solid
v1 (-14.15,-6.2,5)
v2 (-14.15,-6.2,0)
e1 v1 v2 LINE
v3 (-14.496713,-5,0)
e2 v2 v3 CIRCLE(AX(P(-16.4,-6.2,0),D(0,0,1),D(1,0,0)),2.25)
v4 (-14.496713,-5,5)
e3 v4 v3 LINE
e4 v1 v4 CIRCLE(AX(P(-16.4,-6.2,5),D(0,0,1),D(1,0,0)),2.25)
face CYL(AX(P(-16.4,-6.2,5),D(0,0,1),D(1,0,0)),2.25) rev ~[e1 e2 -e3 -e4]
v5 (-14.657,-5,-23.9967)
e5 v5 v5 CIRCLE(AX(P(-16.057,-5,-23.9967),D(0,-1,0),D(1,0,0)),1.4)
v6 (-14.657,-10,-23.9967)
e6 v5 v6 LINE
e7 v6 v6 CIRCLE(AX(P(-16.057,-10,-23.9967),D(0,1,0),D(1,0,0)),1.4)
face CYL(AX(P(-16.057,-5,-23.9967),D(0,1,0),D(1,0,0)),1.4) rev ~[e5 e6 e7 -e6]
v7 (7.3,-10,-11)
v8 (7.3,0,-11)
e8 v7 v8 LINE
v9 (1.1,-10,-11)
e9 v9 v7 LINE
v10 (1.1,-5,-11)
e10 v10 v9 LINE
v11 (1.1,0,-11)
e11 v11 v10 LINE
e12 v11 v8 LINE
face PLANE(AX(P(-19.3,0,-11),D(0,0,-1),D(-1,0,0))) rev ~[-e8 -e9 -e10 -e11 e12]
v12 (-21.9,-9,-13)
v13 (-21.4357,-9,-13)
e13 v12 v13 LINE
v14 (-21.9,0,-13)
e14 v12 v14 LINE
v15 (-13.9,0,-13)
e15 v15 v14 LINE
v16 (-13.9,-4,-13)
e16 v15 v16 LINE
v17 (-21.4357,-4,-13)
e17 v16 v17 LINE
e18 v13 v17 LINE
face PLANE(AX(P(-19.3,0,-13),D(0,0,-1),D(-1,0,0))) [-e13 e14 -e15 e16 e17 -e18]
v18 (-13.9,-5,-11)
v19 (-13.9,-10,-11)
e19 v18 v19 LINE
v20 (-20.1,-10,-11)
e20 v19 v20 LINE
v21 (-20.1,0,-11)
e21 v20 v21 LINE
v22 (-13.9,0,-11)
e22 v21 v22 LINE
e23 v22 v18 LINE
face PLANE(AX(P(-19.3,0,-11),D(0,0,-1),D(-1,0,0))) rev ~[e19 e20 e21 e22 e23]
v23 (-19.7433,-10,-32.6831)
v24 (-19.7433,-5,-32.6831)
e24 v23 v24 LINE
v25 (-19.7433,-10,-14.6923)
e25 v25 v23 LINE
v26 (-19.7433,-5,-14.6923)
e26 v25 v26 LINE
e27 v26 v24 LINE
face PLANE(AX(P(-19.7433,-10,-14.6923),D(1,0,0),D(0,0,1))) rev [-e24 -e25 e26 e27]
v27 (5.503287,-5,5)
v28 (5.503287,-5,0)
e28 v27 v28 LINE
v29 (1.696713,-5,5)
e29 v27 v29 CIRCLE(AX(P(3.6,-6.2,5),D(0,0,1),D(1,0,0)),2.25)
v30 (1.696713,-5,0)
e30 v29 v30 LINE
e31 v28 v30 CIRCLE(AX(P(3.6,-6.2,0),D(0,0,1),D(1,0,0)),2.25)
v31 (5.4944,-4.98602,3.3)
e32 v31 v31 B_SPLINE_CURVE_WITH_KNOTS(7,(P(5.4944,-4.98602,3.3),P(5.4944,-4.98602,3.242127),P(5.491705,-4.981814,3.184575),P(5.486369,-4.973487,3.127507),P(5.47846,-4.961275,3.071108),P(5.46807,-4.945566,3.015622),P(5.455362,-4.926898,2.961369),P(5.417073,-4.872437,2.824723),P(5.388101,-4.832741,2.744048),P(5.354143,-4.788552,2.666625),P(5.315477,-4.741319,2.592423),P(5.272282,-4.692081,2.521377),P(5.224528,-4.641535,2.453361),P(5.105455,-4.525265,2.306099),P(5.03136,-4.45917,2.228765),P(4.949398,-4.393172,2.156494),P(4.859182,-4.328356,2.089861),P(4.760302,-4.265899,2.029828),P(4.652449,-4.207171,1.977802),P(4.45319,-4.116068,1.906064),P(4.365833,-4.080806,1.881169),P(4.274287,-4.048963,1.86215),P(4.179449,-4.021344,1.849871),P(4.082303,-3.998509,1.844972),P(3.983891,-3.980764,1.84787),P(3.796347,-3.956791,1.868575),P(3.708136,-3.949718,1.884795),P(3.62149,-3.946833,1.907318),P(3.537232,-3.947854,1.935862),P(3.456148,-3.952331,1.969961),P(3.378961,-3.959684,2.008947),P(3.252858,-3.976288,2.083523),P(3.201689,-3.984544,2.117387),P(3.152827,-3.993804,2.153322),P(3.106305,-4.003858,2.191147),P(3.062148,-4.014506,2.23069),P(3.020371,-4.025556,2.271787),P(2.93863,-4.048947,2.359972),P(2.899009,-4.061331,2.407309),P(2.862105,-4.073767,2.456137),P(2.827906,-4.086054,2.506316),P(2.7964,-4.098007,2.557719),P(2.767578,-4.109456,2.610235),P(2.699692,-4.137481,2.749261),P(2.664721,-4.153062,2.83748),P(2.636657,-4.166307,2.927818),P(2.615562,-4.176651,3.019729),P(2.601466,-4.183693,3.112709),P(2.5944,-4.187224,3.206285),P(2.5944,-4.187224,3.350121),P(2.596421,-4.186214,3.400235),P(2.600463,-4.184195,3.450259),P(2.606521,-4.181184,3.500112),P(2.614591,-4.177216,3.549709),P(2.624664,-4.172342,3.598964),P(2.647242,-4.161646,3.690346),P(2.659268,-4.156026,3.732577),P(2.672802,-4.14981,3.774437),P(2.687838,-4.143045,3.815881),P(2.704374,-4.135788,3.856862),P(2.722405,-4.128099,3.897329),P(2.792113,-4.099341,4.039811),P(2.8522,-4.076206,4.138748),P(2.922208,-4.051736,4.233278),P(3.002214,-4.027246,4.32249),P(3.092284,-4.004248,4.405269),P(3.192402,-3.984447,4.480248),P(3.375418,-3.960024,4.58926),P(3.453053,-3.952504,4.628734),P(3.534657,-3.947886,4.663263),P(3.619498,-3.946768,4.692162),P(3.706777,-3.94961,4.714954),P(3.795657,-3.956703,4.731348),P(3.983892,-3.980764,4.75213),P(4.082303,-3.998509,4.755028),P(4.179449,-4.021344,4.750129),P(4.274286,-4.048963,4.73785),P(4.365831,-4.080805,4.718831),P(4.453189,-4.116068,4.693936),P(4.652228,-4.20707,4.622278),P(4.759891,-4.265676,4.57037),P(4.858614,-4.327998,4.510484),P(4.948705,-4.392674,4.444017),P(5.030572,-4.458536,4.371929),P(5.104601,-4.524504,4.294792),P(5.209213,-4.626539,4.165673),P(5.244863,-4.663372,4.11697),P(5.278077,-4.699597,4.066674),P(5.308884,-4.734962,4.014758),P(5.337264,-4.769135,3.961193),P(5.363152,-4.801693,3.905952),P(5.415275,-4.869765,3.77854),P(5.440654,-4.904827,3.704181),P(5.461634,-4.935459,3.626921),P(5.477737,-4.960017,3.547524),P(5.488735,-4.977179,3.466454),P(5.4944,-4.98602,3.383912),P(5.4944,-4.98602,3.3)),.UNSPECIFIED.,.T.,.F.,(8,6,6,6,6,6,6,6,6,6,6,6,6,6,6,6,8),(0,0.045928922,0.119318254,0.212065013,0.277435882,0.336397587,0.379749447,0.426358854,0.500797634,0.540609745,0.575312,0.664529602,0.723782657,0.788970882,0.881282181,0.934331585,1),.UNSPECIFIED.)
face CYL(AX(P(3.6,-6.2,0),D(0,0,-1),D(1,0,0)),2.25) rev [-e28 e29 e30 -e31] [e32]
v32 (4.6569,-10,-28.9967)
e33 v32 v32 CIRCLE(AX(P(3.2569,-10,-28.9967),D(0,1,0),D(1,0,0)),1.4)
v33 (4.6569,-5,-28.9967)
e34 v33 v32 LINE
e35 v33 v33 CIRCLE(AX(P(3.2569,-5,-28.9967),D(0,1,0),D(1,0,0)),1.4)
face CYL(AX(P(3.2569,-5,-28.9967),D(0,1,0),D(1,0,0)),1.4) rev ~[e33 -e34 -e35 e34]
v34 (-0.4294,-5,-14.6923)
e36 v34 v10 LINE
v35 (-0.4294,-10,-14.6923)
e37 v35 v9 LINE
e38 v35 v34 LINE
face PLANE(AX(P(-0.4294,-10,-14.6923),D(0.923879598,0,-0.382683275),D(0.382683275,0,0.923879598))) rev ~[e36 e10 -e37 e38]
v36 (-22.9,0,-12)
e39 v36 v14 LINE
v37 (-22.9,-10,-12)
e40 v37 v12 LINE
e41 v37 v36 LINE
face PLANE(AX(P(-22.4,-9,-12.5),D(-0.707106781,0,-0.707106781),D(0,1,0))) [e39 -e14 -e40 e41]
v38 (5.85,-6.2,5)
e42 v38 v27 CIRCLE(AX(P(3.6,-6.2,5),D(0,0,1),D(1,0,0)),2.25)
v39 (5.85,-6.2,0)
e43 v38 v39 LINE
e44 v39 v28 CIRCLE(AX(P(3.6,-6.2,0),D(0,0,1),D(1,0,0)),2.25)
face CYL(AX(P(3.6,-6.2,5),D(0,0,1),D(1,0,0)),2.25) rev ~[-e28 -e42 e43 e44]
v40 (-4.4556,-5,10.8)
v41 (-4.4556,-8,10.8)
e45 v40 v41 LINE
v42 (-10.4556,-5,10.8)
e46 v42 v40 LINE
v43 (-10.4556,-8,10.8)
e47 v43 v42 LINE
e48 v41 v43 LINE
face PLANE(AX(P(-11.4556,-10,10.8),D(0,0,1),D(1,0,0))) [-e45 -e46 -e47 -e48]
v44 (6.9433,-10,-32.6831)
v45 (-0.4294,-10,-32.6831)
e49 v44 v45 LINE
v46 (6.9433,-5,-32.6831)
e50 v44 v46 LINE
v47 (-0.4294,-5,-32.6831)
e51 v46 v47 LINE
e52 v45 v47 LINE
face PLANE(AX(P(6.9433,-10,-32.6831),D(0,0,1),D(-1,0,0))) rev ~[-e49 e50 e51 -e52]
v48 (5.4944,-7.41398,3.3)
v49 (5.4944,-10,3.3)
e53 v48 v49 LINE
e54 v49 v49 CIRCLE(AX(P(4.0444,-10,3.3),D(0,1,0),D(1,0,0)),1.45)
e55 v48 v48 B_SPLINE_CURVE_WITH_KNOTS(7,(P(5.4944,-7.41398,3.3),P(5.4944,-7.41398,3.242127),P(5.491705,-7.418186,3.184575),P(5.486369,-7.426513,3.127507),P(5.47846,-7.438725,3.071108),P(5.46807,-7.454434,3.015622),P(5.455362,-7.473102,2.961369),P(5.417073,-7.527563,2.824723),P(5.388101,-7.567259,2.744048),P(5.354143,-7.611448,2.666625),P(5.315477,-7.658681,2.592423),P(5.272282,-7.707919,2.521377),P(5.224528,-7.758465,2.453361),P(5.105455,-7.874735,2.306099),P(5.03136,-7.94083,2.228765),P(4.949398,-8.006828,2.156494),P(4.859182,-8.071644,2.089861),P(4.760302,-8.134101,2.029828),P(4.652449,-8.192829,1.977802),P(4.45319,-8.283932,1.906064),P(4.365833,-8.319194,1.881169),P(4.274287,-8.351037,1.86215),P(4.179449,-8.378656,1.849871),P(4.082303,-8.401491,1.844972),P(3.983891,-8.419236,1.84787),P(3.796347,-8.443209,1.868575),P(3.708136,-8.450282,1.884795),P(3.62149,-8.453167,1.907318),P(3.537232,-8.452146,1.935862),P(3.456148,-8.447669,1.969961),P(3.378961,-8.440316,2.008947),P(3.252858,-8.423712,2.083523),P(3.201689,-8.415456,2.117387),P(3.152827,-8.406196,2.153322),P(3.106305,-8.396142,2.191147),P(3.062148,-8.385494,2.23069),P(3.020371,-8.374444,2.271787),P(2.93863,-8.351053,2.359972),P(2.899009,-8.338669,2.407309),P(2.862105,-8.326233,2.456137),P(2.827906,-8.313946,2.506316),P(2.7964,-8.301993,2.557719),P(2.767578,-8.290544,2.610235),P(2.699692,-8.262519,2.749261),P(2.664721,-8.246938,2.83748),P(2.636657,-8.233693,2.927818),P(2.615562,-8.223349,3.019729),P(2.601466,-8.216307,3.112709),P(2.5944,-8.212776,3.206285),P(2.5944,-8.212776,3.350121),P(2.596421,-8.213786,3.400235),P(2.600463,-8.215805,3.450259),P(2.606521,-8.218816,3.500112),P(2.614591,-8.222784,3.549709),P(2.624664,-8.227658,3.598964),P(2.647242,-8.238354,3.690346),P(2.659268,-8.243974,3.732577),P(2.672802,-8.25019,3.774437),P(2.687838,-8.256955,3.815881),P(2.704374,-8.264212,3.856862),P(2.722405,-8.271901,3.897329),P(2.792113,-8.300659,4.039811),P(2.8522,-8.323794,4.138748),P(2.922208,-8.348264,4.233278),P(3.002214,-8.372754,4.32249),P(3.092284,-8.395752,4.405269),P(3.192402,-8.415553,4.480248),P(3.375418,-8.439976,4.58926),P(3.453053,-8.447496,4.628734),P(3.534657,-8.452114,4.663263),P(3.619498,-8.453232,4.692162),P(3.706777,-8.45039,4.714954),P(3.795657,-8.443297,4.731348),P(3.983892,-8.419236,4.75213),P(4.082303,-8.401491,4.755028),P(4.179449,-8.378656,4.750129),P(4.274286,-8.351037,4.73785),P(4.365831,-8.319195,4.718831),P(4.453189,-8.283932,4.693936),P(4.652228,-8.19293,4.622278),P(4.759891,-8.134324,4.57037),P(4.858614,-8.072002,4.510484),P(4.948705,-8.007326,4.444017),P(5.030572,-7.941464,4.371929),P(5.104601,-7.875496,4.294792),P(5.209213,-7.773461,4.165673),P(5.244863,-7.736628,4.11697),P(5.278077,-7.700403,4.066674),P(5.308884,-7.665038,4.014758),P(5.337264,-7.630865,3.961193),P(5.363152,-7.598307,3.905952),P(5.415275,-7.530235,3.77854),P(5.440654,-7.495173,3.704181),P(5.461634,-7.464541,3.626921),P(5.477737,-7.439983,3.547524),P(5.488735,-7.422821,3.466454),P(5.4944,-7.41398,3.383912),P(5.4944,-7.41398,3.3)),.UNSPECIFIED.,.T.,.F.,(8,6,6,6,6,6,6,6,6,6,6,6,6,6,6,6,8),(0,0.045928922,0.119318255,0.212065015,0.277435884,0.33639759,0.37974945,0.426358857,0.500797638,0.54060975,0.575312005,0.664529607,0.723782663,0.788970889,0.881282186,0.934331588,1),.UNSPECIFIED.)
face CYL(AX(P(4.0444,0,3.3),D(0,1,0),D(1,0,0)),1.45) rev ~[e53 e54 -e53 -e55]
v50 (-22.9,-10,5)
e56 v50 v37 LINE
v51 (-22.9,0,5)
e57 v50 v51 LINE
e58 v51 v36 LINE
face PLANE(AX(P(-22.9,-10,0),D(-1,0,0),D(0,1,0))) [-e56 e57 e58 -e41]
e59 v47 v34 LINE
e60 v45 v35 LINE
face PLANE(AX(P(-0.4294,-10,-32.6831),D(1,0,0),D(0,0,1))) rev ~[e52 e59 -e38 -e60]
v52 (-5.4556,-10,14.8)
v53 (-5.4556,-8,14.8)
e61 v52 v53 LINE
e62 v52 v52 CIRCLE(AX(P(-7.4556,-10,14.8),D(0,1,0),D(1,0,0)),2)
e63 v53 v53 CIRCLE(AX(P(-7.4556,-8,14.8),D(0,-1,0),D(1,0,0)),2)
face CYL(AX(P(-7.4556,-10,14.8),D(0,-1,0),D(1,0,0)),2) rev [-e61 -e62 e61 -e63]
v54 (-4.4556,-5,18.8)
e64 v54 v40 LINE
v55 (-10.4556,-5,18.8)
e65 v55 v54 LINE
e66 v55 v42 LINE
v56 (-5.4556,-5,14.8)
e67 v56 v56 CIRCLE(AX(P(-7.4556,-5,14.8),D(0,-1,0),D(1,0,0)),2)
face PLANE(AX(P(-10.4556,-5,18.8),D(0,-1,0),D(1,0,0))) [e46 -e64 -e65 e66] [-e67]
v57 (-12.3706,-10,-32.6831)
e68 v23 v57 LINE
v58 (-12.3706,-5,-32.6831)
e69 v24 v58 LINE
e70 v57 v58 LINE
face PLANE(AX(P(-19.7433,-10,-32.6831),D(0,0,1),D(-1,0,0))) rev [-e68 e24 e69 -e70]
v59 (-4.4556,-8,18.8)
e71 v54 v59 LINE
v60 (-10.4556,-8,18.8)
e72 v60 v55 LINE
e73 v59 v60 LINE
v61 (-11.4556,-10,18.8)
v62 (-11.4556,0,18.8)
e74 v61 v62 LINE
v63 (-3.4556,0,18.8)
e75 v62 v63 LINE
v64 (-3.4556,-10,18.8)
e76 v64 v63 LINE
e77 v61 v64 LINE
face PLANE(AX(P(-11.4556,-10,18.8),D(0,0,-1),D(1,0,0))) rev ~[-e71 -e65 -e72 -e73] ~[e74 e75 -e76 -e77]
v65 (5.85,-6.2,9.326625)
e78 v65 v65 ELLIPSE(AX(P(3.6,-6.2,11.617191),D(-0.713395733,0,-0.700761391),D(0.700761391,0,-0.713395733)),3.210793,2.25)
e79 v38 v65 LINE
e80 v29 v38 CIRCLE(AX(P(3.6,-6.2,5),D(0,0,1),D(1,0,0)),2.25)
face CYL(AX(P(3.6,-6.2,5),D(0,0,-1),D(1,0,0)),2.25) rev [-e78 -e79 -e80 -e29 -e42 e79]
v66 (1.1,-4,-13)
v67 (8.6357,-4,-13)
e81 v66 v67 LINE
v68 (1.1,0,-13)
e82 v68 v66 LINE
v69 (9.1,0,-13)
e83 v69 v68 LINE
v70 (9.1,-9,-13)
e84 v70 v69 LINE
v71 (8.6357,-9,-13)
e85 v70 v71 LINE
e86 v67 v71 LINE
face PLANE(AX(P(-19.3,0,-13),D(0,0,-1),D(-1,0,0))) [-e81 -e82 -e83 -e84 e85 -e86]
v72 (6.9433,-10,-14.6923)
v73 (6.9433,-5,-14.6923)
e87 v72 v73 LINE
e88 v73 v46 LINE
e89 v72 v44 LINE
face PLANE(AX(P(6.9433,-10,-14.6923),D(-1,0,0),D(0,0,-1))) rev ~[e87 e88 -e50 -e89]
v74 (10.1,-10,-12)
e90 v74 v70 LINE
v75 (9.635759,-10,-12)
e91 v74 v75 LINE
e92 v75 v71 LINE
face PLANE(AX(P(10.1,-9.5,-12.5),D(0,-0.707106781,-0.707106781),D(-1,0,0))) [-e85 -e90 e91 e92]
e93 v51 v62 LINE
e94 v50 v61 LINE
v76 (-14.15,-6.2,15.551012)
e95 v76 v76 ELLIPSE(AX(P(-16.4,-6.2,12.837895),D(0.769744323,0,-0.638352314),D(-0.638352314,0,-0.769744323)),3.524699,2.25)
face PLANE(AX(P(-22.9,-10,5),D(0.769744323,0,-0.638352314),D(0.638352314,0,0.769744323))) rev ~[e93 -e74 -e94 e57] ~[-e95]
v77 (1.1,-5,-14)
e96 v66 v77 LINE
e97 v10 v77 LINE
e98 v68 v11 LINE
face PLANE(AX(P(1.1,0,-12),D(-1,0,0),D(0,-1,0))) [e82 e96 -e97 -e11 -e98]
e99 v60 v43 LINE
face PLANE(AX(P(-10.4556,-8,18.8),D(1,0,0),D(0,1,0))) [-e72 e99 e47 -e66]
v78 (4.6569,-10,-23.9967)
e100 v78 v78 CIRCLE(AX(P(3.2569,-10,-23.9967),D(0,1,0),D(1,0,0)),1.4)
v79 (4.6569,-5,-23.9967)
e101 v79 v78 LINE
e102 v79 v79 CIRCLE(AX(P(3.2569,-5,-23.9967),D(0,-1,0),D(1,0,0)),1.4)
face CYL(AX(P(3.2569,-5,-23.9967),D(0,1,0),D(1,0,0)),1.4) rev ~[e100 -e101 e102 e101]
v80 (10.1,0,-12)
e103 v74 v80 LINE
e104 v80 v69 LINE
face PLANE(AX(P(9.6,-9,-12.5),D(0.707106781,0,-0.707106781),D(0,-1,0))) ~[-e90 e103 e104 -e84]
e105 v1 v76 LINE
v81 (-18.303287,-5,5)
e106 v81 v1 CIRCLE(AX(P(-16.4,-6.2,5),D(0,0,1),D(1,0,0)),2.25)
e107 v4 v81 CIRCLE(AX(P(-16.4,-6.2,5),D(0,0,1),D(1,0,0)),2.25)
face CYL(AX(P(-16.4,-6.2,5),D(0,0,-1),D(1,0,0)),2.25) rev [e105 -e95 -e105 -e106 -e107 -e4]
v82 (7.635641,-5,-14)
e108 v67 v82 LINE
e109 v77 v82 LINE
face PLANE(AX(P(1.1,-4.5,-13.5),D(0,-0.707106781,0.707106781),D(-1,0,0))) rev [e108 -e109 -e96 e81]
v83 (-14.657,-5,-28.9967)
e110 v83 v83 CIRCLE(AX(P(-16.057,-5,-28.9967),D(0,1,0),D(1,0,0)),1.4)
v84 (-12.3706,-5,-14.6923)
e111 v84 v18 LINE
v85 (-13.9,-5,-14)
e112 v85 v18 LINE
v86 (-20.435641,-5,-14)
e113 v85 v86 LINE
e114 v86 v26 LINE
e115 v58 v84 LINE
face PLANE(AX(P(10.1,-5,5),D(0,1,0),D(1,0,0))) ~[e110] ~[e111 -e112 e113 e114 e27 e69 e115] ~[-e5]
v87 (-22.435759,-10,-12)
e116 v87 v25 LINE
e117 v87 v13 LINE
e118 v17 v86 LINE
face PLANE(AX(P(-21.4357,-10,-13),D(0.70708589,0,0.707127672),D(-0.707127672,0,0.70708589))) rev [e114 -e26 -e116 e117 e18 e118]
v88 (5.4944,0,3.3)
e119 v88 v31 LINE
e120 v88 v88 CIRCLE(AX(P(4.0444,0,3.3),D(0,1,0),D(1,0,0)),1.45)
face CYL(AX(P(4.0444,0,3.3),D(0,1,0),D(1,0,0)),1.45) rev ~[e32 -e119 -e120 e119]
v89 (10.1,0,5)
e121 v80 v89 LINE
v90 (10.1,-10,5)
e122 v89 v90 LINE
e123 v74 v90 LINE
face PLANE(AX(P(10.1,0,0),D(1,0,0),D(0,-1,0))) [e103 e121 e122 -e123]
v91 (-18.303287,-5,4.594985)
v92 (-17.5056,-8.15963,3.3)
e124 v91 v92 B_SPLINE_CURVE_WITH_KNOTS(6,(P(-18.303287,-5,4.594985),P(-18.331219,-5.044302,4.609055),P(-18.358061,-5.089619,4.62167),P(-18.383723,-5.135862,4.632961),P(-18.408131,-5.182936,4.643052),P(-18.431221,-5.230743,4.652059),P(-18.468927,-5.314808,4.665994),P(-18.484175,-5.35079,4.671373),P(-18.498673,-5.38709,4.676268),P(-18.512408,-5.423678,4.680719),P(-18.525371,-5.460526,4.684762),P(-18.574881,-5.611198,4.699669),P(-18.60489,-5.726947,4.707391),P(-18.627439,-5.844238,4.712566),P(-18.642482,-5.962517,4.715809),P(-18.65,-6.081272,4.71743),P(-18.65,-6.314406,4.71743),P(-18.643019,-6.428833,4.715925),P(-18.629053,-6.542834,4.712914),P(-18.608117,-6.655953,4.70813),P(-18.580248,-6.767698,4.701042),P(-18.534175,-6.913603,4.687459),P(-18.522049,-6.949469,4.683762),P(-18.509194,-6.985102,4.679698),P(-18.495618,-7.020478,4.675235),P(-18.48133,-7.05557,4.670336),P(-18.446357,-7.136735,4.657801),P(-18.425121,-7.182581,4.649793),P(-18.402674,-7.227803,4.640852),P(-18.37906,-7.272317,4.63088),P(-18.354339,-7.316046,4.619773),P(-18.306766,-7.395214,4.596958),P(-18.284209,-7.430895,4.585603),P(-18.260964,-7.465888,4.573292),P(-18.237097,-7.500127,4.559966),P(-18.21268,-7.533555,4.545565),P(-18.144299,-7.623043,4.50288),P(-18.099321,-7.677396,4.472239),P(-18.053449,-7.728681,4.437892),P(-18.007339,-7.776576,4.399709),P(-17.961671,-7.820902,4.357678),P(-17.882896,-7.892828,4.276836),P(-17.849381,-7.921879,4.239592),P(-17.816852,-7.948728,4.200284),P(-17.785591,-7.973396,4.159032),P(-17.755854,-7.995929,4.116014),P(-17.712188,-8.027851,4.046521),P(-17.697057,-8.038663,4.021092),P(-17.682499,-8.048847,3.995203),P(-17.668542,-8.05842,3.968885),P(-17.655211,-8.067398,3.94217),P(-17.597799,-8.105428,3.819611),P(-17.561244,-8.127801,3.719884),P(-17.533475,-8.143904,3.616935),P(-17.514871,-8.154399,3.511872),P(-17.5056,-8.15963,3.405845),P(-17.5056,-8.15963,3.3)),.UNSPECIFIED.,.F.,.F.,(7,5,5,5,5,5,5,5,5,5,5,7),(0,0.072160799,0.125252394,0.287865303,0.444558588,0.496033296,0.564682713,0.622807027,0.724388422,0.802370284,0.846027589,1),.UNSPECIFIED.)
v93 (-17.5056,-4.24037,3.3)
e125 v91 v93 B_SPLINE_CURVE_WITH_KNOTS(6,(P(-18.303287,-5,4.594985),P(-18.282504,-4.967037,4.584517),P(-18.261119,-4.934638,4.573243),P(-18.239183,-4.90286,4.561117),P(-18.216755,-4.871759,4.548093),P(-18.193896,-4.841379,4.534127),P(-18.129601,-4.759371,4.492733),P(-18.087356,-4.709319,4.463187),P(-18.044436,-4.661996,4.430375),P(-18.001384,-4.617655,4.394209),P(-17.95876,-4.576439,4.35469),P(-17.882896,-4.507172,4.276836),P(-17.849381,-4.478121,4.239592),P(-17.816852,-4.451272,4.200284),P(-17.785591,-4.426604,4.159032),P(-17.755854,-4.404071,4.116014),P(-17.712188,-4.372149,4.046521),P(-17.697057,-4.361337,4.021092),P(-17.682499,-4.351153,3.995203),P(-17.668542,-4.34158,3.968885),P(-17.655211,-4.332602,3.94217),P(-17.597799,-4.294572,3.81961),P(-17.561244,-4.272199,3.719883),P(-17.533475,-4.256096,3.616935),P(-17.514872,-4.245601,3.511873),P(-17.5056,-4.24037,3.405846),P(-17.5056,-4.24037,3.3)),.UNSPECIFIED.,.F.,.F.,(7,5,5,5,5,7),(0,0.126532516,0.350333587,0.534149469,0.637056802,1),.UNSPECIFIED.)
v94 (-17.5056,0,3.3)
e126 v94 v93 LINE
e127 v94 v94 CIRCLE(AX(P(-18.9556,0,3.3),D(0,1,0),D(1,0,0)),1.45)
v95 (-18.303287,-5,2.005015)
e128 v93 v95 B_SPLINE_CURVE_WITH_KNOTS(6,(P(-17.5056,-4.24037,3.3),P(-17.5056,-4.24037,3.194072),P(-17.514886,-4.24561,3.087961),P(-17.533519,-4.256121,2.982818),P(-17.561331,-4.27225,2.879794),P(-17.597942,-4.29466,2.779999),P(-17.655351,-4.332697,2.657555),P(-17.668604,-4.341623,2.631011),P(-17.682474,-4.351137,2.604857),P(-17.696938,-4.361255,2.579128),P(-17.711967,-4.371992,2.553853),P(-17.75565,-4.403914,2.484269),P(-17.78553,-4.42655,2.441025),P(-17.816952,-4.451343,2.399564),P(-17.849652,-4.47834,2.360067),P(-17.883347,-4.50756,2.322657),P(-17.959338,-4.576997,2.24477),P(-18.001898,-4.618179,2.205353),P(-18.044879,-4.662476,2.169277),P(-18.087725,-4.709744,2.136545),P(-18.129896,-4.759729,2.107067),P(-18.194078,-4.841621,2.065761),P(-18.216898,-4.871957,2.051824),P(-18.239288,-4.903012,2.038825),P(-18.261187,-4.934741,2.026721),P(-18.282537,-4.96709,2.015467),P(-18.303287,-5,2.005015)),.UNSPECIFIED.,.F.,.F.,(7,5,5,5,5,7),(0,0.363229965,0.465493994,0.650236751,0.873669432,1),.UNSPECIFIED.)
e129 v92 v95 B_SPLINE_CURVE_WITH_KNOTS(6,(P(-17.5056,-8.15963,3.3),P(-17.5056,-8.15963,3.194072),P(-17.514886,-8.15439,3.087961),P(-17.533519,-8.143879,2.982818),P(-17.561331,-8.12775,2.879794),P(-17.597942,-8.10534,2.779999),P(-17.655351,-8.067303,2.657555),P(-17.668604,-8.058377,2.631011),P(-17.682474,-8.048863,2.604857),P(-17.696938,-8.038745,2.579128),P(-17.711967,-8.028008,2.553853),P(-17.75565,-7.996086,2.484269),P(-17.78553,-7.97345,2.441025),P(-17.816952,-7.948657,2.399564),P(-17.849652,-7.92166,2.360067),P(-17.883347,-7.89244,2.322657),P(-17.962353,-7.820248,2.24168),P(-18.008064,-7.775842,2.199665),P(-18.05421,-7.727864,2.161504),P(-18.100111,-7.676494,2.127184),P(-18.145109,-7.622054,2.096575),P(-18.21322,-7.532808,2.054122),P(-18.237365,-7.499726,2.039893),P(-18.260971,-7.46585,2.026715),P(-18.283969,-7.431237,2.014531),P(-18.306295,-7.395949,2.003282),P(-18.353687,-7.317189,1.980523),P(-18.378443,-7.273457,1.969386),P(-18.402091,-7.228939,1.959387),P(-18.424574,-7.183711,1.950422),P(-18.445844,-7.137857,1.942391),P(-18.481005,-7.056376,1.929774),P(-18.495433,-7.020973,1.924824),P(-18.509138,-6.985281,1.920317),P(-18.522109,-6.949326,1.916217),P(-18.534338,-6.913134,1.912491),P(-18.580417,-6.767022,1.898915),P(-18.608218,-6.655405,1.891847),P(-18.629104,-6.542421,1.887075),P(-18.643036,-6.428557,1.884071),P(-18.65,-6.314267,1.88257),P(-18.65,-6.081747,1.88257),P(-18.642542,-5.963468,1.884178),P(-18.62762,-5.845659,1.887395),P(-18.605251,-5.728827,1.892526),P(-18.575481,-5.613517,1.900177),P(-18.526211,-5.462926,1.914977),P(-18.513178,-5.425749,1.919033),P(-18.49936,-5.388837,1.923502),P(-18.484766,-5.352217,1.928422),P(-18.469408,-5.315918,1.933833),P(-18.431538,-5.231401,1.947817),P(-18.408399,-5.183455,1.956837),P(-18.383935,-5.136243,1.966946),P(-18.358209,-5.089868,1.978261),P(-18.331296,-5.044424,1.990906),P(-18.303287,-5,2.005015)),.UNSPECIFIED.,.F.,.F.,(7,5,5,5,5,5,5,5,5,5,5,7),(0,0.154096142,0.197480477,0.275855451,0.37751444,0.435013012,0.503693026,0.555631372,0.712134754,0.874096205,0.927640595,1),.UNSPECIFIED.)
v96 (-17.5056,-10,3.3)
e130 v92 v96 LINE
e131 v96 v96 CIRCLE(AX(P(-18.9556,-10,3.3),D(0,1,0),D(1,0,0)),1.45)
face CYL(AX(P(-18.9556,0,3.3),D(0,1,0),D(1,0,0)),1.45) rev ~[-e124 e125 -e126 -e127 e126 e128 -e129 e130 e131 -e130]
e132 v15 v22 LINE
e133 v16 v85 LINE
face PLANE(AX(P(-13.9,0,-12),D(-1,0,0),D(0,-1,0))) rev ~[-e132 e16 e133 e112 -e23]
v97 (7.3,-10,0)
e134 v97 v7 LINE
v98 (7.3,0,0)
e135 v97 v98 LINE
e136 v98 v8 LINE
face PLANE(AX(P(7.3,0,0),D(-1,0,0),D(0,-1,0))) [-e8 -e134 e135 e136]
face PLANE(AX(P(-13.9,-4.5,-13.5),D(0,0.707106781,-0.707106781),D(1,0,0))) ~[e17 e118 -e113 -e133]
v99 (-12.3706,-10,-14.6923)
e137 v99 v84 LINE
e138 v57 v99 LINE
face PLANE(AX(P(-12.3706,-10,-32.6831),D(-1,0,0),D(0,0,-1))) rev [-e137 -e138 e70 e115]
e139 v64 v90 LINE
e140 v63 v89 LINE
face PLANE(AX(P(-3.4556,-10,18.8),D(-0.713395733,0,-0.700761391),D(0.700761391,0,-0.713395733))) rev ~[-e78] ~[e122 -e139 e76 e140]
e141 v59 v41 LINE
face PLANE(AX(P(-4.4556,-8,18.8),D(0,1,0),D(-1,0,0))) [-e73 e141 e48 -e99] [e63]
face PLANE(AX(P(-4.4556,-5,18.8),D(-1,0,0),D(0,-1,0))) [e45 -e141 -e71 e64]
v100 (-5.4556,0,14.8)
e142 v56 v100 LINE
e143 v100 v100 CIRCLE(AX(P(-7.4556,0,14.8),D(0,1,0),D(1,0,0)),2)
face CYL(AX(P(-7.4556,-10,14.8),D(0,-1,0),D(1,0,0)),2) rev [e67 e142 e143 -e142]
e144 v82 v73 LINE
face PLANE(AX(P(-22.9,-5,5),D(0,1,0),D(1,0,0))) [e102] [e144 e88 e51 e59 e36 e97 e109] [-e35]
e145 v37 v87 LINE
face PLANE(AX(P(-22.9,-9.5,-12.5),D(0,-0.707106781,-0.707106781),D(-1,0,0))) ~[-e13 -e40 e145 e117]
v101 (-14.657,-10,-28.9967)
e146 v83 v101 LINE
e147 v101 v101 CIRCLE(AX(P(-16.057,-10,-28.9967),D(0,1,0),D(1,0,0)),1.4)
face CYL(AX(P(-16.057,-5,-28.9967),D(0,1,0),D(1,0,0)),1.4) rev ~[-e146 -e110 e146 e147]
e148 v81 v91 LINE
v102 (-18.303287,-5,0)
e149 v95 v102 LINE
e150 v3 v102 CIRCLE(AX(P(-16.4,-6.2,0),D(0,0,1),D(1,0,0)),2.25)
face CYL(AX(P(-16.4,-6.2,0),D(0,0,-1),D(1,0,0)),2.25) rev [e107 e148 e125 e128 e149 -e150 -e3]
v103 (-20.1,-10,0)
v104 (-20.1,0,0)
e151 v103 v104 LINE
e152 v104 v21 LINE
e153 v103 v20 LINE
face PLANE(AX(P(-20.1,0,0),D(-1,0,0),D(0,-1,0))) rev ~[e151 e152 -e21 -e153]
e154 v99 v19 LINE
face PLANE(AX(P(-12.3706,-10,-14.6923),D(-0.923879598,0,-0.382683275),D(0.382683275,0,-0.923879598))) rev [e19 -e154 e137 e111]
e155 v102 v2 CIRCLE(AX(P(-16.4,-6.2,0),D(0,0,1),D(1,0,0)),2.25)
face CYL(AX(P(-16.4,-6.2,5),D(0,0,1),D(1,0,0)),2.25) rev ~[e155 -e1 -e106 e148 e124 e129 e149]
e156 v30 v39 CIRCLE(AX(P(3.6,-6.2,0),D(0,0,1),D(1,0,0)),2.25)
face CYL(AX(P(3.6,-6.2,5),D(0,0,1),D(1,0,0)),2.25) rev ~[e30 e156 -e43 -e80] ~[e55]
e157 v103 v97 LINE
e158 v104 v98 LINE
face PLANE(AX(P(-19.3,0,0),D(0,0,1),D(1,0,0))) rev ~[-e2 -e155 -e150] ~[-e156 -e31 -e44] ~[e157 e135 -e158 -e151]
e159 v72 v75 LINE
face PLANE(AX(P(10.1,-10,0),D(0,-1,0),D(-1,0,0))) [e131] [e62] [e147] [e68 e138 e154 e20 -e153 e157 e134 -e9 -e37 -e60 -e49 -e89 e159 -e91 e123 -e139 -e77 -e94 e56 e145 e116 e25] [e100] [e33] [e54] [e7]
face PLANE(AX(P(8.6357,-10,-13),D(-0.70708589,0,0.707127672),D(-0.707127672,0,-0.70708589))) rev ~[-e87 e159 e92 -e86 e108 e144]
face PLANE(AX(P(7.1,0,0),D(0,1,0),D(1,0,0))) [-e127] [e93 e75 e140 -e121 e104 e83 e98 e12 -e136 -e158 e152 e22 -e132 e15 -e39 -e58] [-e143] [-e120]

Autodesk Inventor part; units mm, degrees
ref_plane "YZ Plane" through (0, 0, 0) normal (1, 0, 0) x (0, 1, 0)
ref_plane "Work Plane1" through (26.5, 0, 0) normal (0, 0, -1) x (-1, 0, 0)
sketch "Sketch1" plane through (-19.3, 0, 0) normal (0, 0, 1) x (1, 0, 0)
  circle A0 centre (2.9, -26.2) radius 1.75 projected
  circle A1 centre (2.9, -6.2) radius 1.75 projected
  circle A2 centre (22.9, -26.2) radius 1.75 projected
  circle A3 centre (22.9, -6.2) radius 1.75 projected
  line L0 (0.3744, -33.9) -> (0.3744, 2.1) construction
  line L1 (25.8, 0) -> (25.8, -32.4) construction
  line L2 (-0.6, 0) -> (-0.6, -32.4) construction
  line L3 (19.3, -32.4) -> (25.8, -32.4) construction
  line L4 (25.8, 0) -> (25.8, -32.4) construction
  line L5 (19.3, 0) -> (25.8, 0) construction
  line L6 (19.3, 0) -> (19.3, -32.4) construction
  circle A4 centre (22.9, -6.2) radius 1.75 construction
  circle A5 centre (22.9, -26.2) radius 1.75 construction
  line L7 (0, -32.4) -> (6.5, -32.4) construction
  line L8 (6.5, 0) -> (6.5, -32.4) construction
  line L9 (0, 0) -> (6.5, 0) construction
  line L10 (0, 0) -> (0, -32.4) construction
  circle A6 centre (2.9, -6.2) radius 1.75 construction
  circle A7 centre (2.9, -26.2) radius 1.75 construction
  line L11 (29.4, -10) -> (-3.6, -10)
  line L12 (-3.6, -10) -> (-3.6, 0)
  line L13 (-3.6, 0) -> (29.4, 0)
  line L14 (29.4, 0) -> (29.4, -10)
  circle A8 centre (22.9, -26.2) radius 2.25
  circle A9 centre (22.9, -6.2) radius 2.25
  circle A10 centre (2.9, -6.2) radius 2.25
  circle A11 centre (2.9, -26.2) radius 2.25
  line L15 (26.4, 0) -> (26.4, -32.4) projected
  dimension "d1" = 3
  dimension "d2" = 0.5
  dimension "d3" = 0.5
  dimension "d4" = 0.5
  dimension "d5" = 0.5
  dimension "d19" = 3
  dimension "d32" = 10
extrude "Extrusion1" add sketch "Sketch1" along normal blind 5 contours L11 L15 L13 L14 | L11 L12 L13 L15
sketch "Sketch2" plane through (-19.3, 0, 0) normal (0, 0, -1) x (-1, 0, 0)
  circle A0 centre (-2.9, -6.2) radius 2.25 projected
  circle A1 centre (-22.9, -6.2) radius 2.25 projected
  line L0 (3.6, -10) -> (-29.4, -10) projected
  line L1 (-29.4, -10) -> (-29.4, 0) projected
  line L2 (-29.4, 0) -> (3.6, 0) projected
  line L3 (3.6, 0) -> (3.6, -10) projected
  line L4 (3.6, -10) -> (3.6, 0) projected
  line L5 (3.6, 0) -> (0.8, 0)
  line L6 (0.8, 0) -> (0.8, -10)
  line L7 (0.8, -10) -> (3.6, -10)
  line L8 (3.6, -10) -> (3.6, 0)
  line L9 (-29.4, -10) -> (3.6, -10) projected
  line L10 (-29.4, 0) -> (-26.6, 0)
  line L11 (-26.6, 0) -> (-26.6, -10)
  line L12 (-26.6, -10) -> (-29.4, -10)
  line L13 (-29.4, -10) -> (-29.4, 0)
  point P0 (-19.3, 0)
  dimension "d8" = 2.8
  dimension "d9" = 2.8
  dimension "d10" = 0
extrude "Extrusion2" add sketch "Sketch2" along normal blind 12 contours L0 L6 L2 L3 | L0 L1 L2 L11
sketch "Sketch3" plane through (-19.3, 0, -12) normal (0, 0, -1) x (-1, 0, 0)
  line L0 (-29.4, 0) -> (-29.4, -10) projected
  line L1 (-29.4, -10) -> (-26.6, -10) projected
  line L2 (-26.6, -10) -> (-26.6, 0) projected
  line L3 (-26.6, 0) -> (-29.4, 0) projected
  line L4 (3.6, -10) -> (3.6, 0) projected
  line L5 (3.6, 0) -> (0.8, 0) projected
  line L6 (0.8, 0) -> (0.8, -10) projected
  line L7 (-18.8691, 0.2794) -> (-18.8691, -79.7206) construction
  line L8 (-8.1725, 0.2794) -> (-8.1725, -79.7206) construction
  line L9 (-29.4, 0) -> (3.6, 0) construction
  line L10 (3.6, -10) -> (-29.4, -10) projected
  line L11 (-29.4, 0) -> (-20.4, 0)
  line L12 (-20.4, 0) -> (-20.4, -10)
  line L13 (-20.4, -10) -> (-29.4, -10)
  line L14 (-29.4, -10) -> (-29.4, 0)
  line L15 (3.6, 0) -> (3.6, -10) projected
  line L16 (3.6, 0) -> (-5.4, 0)
  line L17 (-5.4, 0) -> (-5.4, -10)
  line L18 (-5.4, -10) -> (3.6, -10)
  line L19 (3.6, -10) -> (3.6, 0)
  line L20 (0.8, -10) -> (3.6, -10) projected
  point P0 (-19.3, 0)
  dimension "d13" = 9
  dimension "d14" = 9
extrude "Extrusion3" add sketch "Sketch3" along normal blind 1 and the other way blind 1
ref_plane "Work Plane2" through (-22.9, -4, 5) normal (0, 1, 0) x (1, 0, 0)
sketch "Sketch4" plane through (-22.9, -10, 5) normal (0, 1, 0) x (1, 0, 0)
  line L0 (0, 0) -> (0, 18) projected
  line L1 (33, 0) -> (0, 0) projected
  line L2 (33, 0) -> (33, 18) projected
  line L3 (24, 18) -> (33, 18) projected
  line L4 (24, 18) -> (24, 16) projected
  line L5 (30.2, 16) -> (24, 16) projected
  line L6 (30.2, 5) -> (30.2, 16) projected
  line L7 (2.8, 5) -> (30.2, 5) projected
  line L8 (2.8, 5) -> (2.8, 16) projected
  line L9 (9, 16) -> (2.8, 16) projected
  line L10 (9, 16) -> (9, 18) projected
  line L11 (0, 18) -> (9, 18) projected
  line L12 (32.9002, 18.2) -> (30.3433, 20.7569) construction
  line L13 (-0.4956, 21.98) -> (-4.2756, 18.2) construction
  line L14 (34.2709, 21.1536) -> (36.398, 19.0265) construction
  line L15 (30.3433, 26.08) -> (30.3433, 18.1) construction
  line L16 (21.9706, 26.08) -> (21.9706, 18.1) construction
  line L17 (11.0029, 26.08) -> (11.0029, 18.1) construction
  line L18 (2.6055, 26.08) -> (2.6055, 20.7569) construction
  line L19 (24, 18) -> (33, 18) projected
  line L20 (31.5357, 18) -> (29.8433, 19.6923)
  line L21 (29.8433, 19.6923) -> (22.4706, 19.6923)
  line L22 (22.4706, 19.6923) -> (24, 16)
  line L23 (29.8433, 19.6923) -> (29.8433, 37.6831)
  line L24 (22.4706, 19.6923) -> (29.8433, 19.6923)
  line L25 (29.8433, 19.6923) -> (29.8433, 37.6831)
  line L26 (29.8433, 37.6831) -> (22.4706, 37.6831)
  line L27 (22.4706, 37.6831) -> (22.4706, 19.6923)
  point P0 (22.9, 5)
  dimension "d21" = 157.5
  dimension "d22" = 0.5
  dimension "d23" = 0.5
extrude "Extrusion4" add sketch "Sketch4" along normal blind 5
ref_plane "Work Plane3" through (-6.4, -10, 5) normal (-1, 0, 0) x (0, 0, 1)
mirror "Mirror1" about plane through (-6.4, -10, 5) normal (-1, 0, 0) of "Extrusion4"
chamfer "Chamfer2" distance 1 angle 45 4 edges at (9.3678, -10, -13) (-22.1678, -10, -13) (-17.6678, -5, -13) (4.8678, -5, -13)
sketch "Sketch5" plane through (-22.9, -5, 5) normal (0, 1, 0) x (1, 0, 0)
  line L0 (24, 19) -> (24, 16) projected
  line L1 (30.5357, 19) -> (24, 19) projected
  line L2 (30.5357, 19) -> (29.8433, 19.6923) projected
  line L3 (29.8433, 19.6923) -> (29.8433, 37.6831) projected
  line L4 (29.8433, 37.6831) -> (22.4706, 37.6831) projected
  line L5 (22.4706, 37.6831) -> (22.4706, 19.6923) projected
  line L6 (22.4706, 19.6923) -> (24, 16) projected
  line L7 (9, 19) -> (2.4643, 19) projected
  line L8 (9, 16) -> (9, 19) projected
  line L9 (10.5294, 19.6923) -> (9, 16) projected
  line L10 (10.5294, 37.6831) -> (10.5294, 19.6923) projected
  line L11 (3.1567, 37.6831) -> (10.5294, 37.6831) projected
  line L12 (3.1567, 19.6923) -> (3.1567, 37.6831) projected
  line L13 (2.4643, 19) -> (3.1567, 19.6923) projected
  circle A0 centre (26.1569, 33.9967) radius 3.6864
  circle A1 centre (6.843, 33.9967) radius 3.6864
  circle A2 centre (26.1569, 33.9967) radius 1.4
  circle A3 centre (6.843, 33.9967) radius 1.4
  circle A4 centre (26.1569, 28.9967) radius 1.4
  circle A5 centre (6.843, 28.9967) radius 1.4
  point P0 (22.9, 5)
  dimension "d33" = 2.8
  dimension "d34" = 2.8
  dimension "d37" = 2.8
  dimension "d38" = 2.8
  dimension "d39" = 5
  dimension "d40" = 5
extrude "Extrusion5" cut sketch "Sketch5" against normal through all contours A4 A0 | A0 A4 | A5 A1 | A1 A5 | A2 | A3 picked at (26.2031, 30.3641) picked at (26.0901, 28.5093) picked at (6.8892, 30.3641) picked at (6.7762, 28.5093)
sketch "Sketch6" plane through (-22.9, -10, 5) normal (0, 1, 0) x (1, 0, 0)
  line L0 (0, 0) -> (0, 18) projected
  line L1 (33, 0) -> (0, 0) projected
  line L2 (33, 0) -> (33, 18) projected
  line L3 (24, 18) -> (33, 18) projected
  line L4 (24, 18) -> (24, 16) projected
  line L5 (30.2, 16) -> (24, 16) projected
  line L6 (30.2, 5) -> (30.2, 16) projected
  line L7 (2.8, 5) -> (30.2, 5) projected
  line L8 (2.8, 5) -> (2.8, 16) projected
  line L9 (9, 16) -> (2.8, 16) projected
  line L10 (9, 16) -> (9, 18) projected
  line L11 (0, 18) -> (9, 18) projected
  circle A0 centre (15.4444, -9.8) radius 1.1933 projected
  line L12 (0, 0) -> (11.4444, -13.8)
  line L13 (11.4444, -13.8) -> (19.4444, -13.8)
  line L14 (33, 0) -> (33, 18) projected
  line L15 (19.4444, -13.8) -> (33, 0)
  circle A1 centre (15.4444, -9.8) radius 2
  point P0 (22.9, 5)
  dimension "d41" = 4
  dimension "d42" = 4
  dimension "d43" = 4
  dimension "d44" = 4
ref_plane "Work Plane4" through (-24.55, -10, -34.5672) normal (0, -1, 0) x (1, 0, 0)
extrude "Extrusion6" add sketch "Sketch6" along normal up to surface (10 mm away) contours L1 L15 L13 L12
ref_plane "Work Plane5" through (-19.3, -32.4, 0) normal (0, 0, 1) x (1, 0, 0)
sketch "Sketch7" plane through (-19.3, 0, 5) normal (0, 0, 1) x (1, 0, 0)
  circle A0 centre (2.9, -6.2) radius 1.5 projected
  circle A1 centre (22.9, -6.2) radius 1.25 projected
  circle A2 centre (2.9, -6.2) radius 2.25
  circle A3 centre (22.9, -6.2) radius 2.25
  point P0 (19.3, 0)
  dimension "d47" = 4.5
  dimension "d48" = 4.5
extrude "Extrusion7" cut sketch "Sketch7" against normal up to surface (5 mm away) contours A0 | A1 | A2 | A3
sketch "Sketch8" plane through (-11.4556, -10, 18.8) normal (0, 0, 1) x (1, 0, 0)
  line L0 (0, 0) -> (8, 0) projected
  line L1 (8, 0) -> (8, 10) projected
  line L2 (0, 0) -> (0, 10) projected
  line L3 (2.5, 13.1294) -> (2.5, 10.1294)
  line L4 (5.5, 13.1294) -> (5.5, 10.1294)
  line L5 (1, 5) -> (7, 5)
  line L6 (7, 5) -> (7, 2)
  line L7 (7, 2) -> (1, 2)
  line L8 (1, 2) -> (1, 5)
  line L9 (1, 5) -> (7, 2) construction
  line L10 (7, 5) -> (1, 2) construction
  line L11 (8, 10) -> (0, 10) projected
  point P0 (11.4556, 10)
  point P1 (4, 3.5)
  dimension "d51" = 6
  dimension "d52" = 3
extrude "Extrusion8" cut sketch "Sketch8" against normal blind 8 contours L5 L6 L7 L8
sketch "Sketch9" plane through (-19.3, 0, 5) normal (0, 0, 1) x (1, 0, 0)
  circle A0 centre (2.9, -6.2) radius 1.75 projected
  circle A1 centre (22.9, -6.2) radius 1.75 projected
  circle A2 centre (2.9, -6.2) radius 2.25 projected
  circle A3 centre (22.9, -6.2) radius 2.25 projected
  point P0 (19.3, 0)
extrude "Extrusion9" cut sketch "Sketch9" along normal through all contours A0 | A1 | A2 | A3
chamfer "Chamfer3" distance 1 angle 45 2 edges at (10.1, -4.5, -13) (-22.9, -4.5, -13)
sketch "Sketch10" plane through (-20.1, 0, 0) normal (0, 1, 0) x (1, 0, 0)
  circle A0 centre (1.1444, -3.3) radius 1.25 projected
  circle A1 centre (24.1444, -3.3) radius 1.25 projected
  circle A2 centre (1.1444, -3.3) radius 1.45
  circle A3 centre (24.1444, -3.3) radius 1.45
  point P0 (20.1, 0)
  dimension "d60" = 2.9
  dimension "d61" = 2.9
extrude "Extrusion10" cut sketch "Sketch10" against normal through all contours A0 | A1 | A2 | A3
properties part number "30_Cube_Z_Focus_Drylin_NEMA_slide"
